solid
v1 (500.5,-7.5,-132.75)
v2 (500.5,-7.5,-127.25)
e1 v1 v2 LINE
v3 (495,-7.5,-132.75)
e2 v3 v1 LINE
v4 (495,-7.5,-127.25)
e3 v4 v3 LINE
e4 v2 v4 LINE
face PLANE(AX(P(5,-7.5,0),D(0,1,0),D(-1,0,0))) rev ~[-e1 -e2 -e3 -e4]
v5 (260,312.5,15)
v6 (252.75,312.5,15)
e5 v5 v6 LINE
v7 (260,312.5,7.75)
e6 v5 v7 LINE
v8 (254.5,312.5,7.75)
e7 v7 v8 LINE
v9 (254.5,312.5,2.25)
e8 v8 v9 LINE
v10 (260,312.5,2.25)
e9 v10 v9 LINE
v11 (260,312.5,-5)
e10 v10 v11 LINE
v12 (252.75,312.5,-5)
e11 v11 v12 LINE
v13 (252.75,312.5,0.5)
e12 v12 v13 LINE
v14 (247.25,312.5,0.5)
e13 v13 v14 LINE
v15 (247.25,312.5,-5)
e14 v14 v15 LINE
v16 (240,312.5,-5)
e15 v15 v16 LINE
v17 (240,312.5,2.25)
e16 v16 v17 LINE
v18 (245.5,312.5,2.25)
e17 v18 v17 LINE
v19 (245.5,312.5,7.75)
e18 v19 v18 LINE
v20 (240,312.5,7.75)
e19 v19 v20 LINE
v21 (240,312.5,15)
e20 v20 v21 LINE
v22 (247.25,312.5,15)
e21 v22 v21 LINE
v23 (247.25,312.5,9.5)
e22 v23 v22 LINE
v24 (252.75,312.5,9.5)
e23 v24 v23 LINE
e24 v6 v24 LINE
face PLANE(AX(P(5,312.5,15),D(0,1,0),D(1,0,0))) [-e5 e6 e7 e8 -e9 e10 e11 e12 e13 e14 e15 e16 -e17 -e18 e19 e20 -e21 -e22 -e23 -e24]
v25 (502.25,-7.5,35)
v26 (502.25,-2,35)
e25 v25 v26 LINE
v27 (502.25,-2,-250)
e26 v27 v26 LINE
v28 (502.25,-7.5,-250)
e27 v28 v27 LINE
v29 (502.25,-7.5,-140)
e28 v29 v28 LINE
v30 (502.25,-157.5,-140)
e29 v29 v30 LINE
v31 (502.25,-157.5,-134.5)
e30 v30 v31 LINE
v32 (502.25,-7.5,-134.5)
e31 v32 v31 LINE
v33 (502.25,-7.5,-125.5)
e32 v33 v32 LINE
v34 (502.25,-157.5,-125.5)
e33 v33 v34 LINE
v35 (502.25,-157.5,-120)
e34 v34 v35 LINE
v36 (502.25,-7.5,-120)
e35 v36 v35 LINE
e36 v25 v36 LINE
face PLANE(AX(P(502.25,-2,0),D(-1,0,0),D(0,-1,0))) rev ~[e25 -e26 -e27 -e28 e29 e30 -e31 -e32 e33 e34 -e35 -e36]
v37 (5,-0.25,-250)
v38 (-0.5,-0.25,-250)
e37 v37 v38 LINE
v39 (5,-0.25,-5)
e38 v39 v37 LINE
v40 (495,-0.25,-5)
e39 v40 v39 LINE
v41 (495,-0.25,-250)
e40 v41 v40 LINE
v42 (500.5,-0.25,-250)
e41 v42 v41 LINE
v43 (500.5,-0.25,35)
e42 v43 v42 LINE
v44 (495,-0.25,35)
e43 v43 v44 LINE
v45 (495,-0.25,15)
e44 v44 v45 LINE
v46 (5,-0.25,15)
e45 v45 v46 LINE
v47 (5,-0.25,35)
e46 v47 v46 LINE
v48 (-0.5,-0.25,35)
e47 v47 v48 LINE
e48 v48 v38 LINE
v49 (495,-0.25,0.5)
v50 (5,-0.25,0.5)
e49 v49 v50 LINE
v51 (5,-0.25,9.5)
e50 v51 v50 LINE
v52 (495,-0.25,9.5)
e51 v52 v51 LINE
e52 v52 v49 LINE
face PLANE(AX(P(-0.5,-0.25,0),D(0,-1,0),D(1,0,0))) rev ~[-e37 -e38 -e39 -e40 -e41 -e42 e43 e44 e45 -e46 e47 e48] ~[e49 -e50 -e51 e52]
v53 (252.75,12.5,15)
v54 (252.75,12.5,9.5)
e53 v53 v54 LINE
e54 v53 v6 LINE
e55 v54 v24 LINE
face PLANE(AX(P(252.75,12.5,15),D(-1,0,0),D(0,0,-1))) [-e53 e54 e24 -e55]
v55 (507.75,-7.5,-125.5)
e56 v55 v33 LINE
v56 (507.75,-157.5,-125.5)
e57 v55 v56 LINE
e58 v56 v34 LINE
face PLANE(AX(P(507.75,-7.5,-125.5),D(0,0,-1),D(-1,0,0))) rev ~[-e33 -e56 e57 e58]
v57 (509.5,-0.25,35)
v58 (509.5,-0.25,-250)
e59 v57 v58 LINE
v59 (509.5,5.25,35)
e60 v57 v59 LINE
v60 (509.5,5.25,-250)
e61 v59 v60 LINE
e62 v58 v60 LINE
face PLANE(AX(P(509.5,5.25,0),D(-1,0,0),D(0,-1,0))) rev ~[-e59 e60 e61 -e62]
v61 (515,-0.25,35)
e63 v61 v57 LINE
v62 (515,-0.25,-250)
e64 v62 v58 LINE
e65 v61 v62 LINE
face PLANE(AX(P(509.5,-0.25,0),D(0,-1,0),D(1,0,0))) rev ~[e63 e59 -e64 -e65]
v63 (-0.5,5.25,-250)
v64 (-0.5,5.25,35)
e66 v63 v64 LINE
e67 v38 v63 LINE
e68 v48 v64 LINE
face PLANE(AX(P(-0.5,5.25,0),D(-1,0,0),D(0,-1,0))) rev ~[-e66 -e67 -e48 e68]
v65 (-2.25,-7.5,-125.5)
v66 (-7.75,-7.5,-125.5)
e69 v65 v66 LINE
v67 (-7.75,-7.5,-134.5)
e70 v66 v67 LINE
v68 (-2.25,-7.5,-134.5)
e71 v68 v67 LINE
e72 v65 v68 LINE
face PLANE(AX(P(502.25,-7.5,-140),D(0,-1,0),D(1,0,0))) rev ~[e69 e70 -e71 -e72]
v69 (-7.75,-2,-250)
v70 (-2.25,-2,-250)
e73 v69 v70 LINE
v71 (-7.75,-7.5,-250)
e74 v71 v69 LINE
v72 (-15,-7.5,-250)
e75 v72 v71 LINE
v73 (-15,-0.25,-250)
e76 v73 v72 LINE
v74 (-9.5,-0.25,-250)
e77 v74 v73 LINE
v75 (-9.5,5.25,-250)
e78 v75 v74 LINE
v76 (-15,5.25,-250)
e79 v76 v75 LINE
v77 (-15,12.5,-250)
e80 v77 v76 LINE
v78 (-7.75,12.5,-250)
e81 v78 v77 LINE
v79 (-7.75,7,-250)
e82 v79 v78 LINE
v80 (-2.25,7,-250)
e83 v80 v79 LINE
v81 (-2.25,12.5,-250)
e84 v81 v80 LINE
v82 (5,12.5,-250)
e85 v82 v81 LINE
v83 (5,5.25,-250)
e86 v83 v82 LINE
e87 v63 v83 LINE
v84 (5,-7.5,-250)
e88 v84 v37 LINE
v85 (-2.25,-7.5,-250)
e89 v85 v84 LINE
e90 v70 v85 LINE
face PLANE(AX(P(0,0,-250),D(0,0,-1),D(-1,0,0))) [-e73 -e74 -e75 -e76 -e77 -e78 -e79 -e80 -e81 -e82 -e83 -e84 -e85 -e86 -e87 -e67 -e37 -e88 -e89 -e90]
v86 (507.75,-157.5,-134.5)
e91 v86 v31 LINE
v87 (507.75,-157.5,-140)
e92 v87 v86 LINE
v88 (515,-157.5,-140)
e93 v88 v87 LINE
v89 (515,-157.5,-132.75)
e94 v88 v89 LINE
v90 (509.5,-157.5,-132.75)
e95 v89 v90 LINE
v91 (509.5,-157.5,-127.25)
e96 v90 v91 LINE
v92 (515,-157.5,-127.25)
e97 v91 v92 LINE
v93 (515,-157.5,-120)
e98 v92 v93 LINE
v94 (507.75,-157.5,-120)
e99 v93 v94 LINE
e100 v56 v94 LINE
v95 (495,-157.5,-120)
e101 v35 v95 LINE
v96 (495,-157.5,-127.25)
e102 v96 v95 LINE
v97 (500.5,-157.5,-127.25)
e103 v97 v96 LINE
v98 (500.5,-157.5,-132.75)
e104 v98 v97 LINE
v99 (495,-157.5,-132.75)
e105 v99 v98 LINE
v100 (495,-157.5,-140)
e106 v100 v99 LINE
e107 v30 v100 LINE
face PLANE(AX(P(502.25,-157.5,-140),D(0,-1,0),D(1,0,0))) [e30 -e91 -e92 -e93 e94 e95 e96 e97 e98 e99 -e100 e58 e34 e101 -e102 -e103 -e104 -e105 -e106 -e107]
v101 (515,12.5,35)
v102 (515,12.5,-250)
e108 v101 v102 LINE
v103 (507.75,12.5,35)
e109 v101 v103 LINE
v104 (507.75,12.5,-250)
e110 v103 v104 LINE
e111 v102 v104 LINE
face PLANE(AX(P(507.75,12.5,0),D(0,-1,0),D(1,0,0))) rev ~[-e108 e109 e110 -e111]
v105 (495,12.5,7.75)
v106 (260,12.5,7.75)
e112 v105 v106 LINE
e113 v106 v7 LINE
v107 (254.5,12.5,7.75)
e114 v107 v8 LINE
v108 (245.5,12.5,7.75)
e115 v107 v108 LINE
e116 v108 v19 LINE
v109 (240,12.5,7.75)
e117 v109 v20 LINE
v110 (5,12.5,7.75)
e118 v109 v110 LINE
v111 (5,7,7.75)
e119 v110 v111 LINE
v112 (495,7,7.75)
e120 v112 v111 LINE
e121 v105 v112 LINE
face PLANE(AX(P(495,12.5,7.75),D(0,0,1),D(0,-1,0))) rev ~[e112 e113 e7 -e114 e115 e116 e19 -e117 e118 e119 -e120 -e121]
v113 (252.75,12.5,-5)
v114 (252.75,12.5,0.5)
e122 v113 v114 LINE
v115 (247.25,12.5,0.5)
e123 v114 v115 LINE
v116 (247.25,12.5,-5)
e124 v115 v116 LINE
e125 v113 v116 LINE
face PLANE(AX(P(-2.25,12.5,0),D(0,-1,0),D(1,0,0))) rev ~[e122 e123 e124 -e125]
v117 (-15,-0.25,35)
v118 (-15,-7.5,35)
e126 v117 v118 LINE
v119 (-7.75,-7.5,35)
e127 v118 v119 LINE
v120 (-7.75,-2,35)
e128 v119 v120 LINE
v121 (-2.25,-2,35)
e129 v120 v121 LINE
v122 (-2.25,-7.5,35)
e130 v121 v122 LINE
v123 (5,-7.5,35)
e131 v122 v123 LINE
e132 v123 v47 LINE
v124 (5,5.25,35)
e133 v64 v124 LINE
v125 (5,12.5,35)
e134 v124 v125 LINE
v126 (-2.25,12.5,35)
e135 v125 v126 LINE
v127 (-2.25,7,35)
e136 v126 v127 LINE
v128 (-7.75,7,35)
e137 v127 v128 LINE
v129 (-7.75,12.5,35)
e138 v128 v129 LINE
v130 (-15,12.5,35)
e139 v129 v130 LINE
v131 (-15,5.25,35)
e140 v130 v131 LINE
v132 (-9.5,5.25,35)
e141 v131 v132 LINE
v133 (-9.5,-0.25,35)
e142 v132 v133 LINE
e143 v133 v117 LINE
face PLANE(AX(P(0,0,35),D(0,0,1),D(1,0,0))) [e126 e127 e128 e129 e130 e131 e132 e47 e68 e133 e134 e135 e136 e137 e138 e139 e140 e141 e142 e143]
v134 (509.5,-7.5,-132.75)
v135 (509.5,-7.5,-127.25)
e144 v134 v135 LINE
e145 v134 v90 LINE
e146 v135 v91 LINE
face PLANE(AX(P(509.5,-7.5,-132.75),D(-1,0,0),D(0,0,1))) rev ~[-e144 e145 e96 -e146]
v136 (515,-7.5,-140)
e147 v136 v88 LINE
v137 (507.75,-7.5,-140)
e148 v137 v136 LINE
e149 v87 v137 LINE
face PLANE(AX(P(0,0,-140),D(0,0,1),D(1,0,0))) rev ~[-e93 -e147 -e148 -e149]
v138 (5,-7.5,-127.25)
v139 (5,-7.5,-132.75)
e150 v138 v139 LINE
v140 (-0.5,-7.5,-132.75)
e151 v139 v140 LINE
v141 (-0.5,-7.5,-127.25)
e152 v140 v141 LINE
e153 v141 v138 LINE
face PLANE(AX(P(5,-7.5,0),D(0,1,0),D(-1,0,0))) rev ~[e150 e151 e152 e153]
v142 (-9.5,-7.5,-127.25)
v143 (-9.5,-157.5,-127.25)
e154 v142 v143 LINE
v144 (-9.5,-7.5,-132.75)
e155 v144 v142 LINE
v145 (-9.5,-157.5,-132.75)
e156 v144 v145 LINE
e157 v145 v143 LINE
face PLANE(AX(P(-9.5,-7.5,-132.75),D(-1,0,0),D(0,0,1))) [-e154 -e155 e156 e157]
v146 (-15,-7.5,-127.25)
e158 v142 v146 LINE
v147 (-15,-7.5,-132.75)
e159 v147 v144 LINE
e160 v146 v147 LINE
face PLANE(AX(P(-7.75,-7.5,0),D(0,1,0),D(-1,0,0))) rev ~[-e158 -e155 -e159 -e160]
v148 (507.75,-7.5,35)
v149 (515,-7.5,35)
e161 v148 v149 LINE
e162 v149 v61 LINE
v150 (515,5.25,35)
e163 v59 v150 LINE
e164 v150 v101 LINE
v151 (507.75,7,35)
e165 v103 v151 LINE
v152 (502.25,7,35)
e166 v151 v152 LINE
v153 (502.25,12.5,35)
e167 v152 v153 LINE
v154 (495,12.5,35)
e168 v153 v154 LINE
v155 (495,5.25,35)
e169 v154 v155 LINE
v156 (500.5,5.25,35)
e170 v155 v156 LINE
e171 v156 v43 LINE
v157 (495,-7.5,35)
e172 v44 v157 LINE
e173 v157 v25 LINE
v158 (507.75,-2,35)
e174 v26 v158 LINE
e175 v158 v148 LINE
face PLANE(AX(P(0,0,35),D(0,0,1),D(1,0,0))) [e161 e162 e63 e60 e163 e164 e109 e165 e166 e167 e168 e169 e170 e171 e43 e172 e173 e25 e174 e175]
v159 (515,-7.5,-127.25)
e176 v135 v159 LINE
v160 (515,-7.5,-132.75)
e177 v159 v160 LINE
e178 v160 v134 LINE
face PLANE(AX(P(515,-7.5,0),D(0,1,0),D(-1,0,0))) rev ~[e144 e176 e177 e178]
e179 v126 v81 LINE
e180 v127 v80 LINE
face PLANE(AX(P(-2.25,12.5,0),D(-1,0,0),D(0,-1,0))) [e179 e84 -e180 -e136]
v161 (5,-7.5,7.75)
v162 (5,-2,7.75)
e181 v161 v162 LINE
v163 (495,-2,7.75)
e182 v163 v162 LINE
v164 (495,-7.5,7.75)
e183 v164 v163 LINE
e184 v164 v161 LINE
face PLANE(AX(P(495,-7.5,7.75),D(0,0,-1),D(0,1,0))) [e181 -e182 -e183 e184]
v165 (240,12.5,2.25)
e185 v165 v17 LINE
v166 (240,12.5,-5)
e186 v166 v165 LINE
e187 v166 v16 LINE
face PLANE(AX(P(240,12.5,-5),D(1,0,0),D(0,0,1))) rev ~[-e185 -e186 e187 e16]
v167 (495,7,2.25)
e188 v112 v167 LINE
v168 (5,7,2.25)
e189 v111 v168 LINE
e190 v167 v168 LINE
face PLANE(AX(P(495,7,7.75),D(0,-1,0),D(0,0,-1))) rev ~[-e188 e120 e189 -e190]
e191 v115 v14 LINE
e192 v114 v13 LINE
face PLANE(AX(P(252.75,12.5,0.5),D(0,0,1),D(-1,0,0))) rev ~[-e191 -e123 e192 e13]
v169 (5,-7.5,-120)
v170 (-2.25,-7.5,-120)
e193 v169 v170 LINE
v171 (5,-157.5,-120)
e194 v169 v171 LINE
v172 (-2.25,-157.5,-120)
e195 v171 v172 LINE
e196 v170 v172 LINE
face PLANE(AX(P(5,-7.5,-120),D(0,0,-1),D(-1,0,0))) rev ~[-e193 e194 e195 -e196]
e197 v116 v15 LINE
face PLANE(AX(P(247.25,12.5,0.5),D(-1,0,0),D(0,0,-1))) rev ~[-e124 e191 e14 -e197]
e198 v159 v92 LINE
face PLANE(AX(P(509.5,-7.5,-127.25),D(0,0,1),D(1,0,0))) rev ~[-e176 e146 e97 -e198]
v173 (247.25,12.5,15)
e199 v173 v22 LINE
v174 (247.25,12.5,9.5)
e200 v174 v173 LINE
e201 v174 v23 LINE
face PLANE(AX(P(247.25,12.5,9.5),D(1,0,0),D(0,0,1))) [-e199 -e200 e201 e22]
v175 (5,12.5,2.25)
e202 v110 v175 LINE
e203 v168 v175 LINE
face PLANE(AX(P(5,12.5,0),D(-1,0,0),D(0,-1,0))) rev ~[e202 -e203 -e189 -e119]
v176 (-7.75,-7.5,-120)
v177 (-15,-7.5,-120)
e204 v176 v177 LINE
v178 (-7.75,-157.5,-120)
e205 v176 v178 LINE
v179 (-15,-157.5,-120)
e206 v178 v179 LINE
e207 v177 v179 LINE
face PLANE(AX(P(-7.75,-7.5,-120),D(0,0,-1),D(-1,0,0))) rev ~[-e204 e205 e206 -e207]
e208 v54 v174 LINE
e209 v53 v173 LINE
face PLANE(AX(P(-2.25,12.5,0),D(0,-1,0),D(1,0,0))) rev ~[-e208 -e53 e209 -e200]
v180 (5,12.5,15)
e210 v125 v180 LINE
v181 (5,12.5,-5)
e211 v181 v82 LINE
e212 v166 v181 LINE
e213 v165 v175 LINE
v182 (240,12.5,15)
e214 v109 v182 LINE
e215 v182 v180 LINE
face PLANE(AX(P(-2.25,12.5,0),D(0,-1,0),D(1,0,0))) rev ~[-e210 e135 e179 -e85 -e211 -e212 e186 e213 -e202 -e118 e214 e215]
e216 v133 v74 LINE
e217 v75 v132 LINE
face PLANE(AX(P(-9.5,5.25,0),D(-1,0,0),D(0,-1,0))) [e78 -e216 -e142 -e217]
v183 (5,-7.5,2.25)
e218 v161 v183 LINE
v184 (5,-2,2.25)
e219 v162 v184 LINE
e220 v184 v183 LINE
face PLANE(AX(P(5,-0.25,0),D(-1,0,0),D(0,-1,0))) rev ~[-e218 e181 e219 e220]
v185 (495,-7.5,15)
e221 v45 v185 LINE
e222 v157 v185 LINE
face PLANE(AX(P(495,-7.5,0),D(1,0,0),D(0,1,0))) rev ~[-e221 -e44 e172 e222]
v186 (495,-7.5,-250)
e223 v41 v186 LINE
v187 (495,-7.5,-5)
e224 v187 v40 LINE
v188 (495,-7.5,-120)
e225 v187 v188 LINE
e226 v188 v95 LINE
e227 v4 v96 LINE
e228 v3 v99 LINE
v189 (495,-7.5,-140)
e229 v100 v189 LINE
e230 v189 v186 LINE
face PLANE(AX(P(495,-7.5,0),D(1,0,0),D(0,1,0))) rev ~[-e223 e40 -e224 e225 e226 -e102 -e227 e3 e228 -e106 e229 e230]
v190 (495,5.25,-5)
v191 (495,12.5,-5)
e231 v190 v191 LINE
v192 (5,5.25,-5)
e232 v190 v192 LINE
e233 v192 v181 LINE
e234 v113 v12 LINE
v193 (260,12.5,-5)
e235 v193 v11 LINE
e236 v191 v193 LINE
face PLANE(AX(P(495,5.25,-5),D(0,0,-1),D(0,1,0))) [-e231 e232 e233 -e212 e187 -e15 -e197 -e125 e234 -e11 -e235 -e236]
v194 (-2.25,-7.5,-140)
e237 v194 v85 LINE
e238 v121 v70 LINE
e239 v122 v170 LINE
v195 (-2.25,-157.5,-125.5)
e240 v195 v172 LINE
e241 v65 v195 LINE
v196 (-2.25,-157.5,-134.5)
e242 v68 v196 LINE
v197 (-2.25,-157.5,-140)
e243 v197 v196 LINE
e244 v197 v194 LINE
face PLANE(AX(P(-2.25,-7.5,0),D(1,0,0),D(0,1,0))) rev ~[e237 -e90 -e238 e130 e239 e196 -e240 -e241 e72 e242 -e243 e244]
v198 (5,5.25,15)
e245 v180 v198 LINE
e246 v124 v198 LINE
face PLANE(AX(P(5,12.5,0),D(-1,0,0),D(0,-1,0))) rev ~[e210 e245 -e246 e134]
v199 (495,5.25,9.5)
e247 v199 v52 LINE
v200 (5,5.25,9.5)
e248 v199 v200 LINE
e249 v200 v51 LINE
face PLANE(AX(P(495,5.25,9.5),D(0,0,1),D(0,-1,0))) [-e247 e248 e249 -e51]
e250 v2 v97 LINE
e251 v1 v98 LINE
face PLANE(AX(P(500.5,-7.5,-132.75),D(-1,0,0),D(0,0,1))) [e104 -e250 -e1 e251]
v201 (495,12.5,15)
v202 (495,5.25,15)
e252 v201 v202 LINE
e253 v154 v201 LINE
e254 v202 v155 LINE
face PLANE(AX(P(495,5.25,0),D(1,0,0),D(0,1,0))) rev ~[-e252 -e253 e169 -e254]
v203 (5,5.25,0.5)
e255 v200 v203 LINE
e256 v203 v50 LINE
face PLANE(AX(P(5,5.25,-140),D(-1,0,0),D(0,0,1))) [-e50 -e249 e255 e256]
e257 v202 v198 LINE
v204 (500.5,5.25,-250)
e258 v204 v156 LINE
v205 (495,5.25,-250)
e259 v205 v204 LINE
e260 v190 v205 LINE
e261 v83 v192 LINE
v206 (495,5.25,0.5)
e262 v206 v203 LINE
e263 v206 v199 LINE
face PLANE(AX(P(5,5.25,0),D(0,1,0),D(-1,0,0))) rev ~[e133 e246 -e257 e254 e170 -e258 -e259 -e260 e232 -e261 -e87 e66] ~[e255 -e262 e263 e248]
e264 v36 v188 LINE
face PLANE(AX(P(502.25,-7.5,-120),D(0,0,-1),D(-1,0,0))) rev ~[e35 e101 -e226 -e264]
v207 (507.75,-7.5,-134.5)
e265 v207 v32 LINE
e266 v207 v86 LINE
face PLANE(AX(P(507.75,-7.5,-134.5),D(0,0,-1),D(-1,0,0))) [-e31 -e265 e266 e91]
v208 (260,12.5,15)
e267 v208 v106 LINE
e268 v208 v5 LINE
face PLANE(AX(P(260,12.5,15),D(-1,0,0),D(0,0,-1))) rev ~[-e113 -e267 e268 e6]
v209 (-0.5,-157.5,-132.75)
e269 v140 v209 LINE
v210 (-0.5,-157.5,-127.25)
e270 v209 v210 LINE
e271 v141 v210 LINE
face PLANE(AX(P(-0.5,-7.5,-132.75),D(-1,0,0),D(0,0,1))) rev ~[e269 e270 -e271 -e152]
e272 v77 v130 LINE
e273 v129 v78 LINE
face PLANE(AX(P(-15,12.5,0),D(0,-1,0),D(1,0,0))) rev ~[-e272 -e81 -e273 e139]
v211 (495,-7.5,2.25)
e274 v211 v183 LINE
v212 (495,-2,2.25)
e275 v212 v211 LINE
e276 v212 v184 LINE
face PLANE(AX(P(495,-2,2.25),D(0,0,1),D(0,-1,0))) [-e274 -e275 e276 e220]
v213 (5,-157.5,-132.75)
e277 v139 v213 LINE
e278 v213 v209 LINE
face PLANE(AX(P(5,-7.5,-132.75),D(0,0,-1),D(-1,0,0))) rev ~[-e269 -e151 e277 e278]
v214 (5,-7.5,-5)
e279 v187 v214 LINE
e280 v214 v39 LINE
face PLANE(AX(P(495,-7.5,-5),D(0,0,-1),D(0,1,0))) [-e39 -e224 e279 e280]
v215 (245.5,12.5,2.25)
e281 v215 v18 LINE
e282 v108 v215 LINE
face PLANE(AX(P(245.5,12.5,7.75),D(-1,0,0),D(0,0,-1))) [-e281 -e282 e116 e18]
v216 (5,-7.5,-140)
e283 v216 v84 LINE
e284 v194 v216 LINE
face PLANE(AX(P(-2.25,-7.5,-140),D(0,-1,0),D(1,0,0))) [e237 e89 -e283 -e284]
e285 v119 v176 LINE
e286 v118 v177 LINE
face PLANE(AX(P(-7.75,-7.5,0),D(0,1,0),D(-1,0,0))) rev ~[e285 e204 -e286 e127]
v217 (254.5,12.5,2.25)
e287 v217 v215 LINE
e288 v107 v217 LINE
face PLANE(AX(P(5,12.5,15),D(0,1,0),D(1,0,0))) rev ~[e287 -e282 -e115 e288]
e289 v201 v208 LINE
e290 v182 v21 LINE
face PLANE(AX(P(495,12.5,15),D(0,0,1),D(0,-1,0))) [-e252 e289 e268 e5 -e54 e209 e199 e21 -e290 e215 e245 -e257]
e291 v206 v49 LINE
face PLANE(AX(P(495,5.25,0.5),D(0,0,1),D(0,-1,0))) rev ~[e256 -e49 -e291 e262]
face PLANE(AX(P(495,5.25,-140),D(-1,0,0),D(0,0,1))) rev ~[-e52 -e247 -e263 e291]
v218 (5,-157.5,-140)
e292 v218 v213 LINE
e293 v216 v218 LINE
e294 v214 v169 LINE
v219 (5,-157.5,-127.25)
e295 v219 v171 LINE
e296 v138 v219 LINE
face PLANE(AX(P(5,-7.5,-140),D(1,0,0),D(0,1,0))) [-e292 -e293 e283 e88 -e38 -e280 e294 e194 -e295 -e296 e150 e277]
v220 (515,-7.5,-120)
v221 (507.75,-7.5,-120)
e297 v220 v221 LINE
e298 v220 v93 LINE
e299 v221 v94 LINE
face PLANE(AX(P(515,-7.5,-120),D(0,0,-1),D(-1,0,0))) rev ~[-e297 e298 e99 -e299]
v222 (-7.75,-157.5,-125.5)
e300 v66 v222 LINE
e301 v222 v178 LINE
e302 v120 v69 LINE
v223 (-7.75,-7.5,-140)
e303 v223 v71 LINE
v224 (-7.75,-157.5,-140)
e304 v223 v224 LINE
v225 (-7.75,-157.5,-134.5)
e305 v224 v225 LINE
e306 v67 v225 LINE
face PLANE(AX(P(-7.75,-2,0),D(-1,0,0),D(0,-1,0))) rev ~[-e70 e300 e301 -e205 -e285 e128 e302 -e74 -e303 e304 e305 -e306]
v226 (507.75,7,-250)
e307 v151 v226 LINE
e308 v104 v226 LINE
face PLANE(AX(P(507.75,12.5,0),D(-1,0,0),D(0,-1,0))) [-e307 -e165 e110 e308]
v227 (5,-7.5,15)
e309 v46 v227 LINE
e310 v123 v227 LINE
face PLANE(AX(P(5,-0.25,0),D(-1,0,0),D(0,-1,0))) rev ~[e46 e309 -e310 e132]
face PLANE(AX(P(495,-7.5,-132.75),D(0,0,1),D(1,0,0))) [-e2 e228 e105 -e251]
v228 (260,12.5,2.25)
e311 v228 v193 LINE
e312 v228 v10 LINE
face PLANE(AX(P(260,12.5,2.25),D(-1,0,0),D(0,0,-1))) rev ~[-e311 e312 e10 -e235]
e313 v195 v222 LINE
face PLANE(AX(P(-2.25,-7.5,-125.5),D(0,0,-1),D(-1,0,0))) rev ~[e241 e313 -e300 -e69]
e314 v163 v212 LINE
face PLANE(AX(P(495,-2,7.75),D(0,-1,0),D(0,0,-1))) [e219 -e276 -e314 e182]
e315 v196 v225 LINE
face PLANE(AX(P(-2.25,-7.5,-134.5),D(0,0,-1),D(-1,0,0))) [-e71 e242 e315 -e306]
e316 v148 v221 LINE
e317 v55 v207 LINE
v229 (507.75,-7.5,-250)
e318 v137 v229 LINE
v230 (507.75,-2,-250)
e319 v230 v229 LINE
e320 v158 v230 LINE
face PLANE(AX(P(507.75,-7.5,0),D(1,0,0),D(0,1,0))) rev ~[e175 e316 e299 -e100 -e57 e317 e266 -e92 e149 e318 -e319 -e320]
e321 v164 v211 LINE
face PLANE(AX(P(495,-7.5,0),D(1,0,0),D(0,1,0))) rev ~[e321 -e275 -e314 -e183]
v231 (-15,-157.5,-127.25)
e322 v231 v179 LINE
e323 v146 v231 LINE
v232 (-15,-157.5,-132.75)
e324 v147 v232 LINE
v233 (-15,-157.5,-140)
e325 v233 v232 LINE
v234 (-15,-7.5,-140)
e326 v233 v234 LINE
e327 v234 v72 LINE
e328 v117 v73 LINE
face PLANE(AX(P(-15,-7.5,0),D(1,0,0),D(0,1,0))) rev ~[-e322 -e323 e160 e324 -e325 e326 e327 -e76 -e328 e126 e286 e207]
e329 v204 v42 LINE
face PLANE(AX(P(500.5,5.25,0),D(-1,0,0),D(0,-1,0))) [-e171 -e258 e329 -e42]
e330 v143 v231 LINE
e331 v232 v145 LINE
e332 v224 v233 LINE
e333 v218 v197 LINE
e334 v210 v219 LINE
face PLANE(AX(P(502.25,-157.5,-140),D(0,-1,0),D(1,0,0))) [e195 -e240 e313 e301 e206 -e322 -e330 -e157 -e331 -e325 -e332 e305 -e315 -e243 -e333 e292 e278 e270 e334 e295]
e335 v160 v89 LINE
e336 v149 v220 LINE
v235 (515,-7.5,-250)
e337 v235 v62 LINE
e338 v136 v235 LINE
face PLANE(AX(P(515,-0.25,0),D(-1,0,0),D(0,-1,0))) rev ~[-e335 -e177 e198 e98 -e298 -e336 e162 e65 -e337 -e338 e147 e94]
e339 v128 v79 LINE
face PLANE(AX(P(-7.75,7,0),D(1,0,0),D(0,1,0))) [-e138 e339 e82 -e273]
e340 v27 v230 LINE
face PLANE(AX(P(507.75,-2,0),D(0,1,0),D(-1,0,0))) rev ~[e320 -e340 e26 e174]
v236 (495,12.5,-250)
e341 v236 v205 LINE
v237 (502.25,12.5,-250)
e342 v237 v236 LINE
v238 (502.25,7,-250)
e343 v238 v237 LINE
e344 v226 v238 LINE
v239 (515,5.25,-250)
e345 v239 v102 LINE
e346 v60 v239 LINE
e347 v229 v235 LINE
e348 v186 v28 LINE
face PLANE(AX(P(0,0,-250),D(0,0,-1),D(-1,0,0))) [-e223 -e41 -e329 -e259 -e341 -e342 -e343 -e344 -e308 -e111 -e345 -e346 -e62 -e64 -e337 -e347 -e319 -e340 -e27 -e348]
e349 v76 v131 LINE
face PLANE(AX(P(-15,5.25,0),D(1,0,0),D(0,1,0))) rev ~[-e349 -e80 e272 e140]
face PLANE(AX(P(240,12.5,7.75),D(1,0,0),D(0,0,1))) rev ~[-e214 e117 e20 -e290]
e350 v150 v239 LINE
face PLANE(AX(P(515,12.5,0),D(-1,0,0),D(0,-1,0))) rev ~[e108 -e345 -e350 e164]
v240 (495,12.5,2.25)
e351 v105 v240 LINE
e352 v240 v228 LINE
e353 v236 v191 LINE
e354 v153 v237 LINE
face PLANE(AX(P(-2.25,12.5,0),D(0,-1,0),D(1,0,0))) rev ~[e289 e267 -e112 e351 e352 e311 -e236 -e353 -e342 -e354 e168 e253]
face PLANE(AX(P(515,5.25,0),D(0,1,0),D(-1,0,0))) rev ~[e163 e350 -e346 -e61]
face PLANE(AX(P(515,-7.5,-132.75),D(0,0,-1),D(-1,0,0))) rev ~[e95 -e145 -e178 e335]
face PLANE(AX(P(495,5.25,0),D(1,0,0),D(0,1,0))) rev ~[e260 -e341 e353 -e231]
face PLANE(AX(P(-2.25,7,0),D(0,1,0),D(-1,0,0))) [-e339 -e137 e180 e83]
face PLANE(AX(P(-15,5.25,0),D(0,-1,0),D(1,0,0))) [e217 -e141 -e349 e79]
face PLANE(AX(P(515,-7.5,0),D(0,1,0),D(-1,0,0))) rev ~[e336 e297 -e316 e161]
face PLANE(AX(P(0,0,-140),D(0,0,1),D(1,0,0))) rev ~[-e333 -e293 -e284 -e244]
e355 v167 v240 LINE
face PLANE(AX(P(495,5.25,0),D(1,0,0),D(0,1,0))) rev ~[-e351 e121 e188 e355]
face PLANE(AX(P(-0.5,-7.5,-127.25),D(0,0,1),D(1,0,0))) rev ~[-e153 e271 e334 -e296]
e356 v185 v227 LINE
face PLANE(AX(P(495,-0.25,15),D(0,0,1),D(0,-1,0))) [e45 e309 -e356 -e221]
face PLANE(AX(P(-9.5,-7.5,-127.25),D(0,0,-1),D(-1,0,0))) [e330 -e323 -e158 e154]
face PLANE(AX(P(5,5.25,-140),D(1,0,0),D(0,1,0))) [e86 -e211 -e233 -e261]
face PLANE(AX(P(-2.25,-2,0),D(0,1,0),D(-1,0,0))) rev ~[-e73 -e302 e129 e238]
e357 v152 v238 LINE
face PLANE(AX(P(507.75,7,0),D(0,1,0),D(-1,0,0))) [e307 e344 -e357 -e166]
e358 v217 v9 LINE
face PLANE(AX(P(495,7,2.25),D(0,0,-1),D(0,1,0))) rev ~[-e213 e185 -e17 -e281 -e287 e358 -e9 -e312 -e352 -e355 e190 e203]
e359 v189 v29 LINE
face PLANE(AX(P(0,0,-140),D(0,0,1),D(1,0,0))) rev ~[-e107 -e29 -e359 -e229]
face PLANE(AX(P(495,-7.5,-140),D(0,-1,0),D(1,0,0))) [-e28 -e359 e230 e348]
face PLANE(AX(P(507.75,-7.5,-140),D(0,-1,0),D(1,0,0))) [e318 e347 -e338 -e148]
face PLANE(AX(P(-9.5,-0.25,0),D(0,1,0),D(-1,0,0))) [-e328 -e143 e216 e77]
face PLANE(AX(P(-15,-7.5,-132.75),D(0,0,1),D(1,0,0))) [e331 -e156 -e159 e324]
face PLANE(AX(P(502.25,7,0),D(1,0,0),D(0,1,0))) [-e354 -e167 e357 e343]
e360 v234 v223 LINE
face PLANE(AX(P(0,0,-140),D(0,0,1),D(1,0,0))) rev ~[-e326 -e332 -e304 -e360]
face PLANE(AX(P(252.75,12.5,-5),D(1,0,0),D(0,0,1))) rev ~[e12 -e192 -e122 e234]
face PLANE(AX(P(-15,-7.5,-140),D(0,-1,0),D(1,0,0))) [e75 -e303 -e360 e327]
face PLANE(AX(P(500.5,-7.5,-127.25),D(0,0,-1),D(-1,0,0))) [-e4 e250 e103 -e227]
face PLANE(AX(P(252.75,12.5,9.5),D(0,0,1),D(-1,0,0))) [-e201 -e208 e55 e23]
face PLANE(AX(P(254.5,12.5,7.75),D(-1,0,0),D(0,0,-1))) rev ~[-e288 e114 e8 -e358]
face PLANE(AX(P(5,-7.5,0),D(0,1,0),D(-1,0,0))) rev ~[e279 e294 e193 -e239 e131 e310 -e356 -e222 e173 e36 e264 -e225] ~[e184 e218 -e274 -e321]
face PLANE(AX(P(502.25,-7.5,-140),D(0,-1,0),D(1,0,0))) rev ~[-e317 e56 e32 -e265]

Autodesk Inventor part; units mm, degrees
ref_plane "YZ Plane" through (0, 0, 0) normal (1, 0, 0) x (0, 1, 0)
ref_plane "XZ Plane" through (0, 0, 0) normal (0, 1, 0) x (-1, 0, 0)
ref_plane "XY Plane" through (0, 0, 0) normal (0, 0, 1) x (1, 0, 0)
sketch "스케치1" plane through (0, 0, 0) normal (0, 0, 1) x (1, 0, 0)
  line L0 (-15, 12.5) -> (5, 12.5)
  line L1 (5, 12.5) -> (5, -7.5)
  line L2 (5, -7.5) -> (-15, -7.5)
  line L3 (-15, -7.5) -> (-15, 12.5)
  line L4 (5, 5.25) -> (-0.5, 5.25)
  line L5 (-0.5, 5.25) -> (-0.5, -0.25)
  line L6 (-0.5, -0.25) -> (5, -0.25)
  line L7 (5, -0.25) -> (5, 5.25)
  line L8 (-7.75, 12.5) -> (-2.25, 12.5)
  line L9 (-2.25, 12.5) -> (-2.25, 7)
  line L10 (-2.25, 7) -> (-7.75, 7)
  line L11 (-7.75, 7) -> (-7.75, 12.5)
  line L12 (-15, 5.25) -> (-9.5, 5.25)
  line L13 (-9.5, 5.25) -> (-9.5, -0.25)
  line L14 (-9.5, -0.25) -> (-15, -0.25)
  line L15 (-15, -0.25) -> (-15, 5.25)
  line L16 (-7.75, -7.5) -> (-2.25, -7.5)
  line L17 (-2.25, -7.5) -> (-2.25, -2)
  line L18 (-2.25, -2) -> (-7.75, -2)
  line L19 (-7.75, -2) -> (-7.75, -7.5)
  line L20 (0, 0) -> (500, 0) projected
  line L21 (500, 0) -> (500, 5) projected
  line L22 (0, 5) -> (500, 5) projected
  line L23 (0, 0) -> (0, 5) projected
  line L24 (495, 12.5) -> (515, 12.5)
  line L25 (515, 12.5) -> (515, -7.5)
  line L26 (515, -7.5) -> (495, -7.5)
  line L27 (495, -7.5) -> (495, 12.5)
  line L28 (515, 5.25) -> (509.5, 5.25)
  line L29 (509.5, 5.25) -> (509.5, -0.25)
  line L30 (509.5, -0.25) -> (515, -0.25)
  line L31 (502.25, 12.5) -> (507.75, 12.5)
  line L32 (507.75, 12.5) -> (507.75, 7)
  line L33 (507.75, 7) -> (502.25, 7)
  line L34 (502.25, 7) -> (502.25, 12.5)
  line L35 (495, 5.25) -> (500.5, 5.25)
  line L36 (500.5, 5.25) -> (500.5, -0.25)
  line L37 (500.5, -0.25) -> (495, -0.25)
  line L38 (507.75, -7.5) -> (507.75, -2)
  line L39 (507.75, -2) -> (502.25, -2)
  line L40 (502.25, -2) -> (502.25, -7.5)
  dimension "d0" = 20
  dimension "d1" = 20
  dimension "d2" = 5.5
  dimension "d3" = 5.5
  dimension "d4" = 5.5
  dimension "d5" = 5.5
  dimension "d6" = 5.5
  dimension "d7" = 5.5
  dimension "d8" = 5.5
  dimension "d9" = 5.5
  dimension "d10" = 7.25
  dimension "d11" = 7.25
  dimension "d12" = 7.25
  dimension "d13" = 7.25
  dimension "d14" = 0.25
  dimension "d15" = 0.5
  dimension "d16" = 20
  dimension "d17" = 20
  dimension "d18" = 5.5
  dimension "d19" = 5.5
  dimension "d20" = 5.5
  dimension "d21" = 5.5
  dimension "d22" = 5.5
  dimension "d23" = 5.5
  dimension "d24" = 5.5
  dimension "d25" = 5.5
  dimension "d26" = 7.25
  dimension "d27" = 7.25
  dimension "d28" = 7.25
  dimension "d29" = 7.25
  dimension "d30" = 0.25
  dimension "d31" = 0.5
extrude "돌출1" add sketch "스케치1" against normal blind 140 contours L0 L11 L10 L9 L1 L4 L5 L6 L2 L17 L18 L19 L3 L14 L13 L12 | L27 L24 L34 L33 L32 L25 L28 L29 L30 L26 L38 L39 L40 L37 L36 L35
sketch "스케치2" plane through (0, 0, 0) normal (0, 0, 1) x (1, 0, 0)
  line L0 (-0.5, 5.25) -> (5, 5.25) projected
  line L1 (5, 5.25) -> (5, 12.5) projected
  line L2 (5, 12.5) -> (-2.25, 12.5) projected
  line L3 (-2.25, 12.5) -> (-2.25, 7) projected
  line L4 (-2.25, 7) -> (-7.75, 7) projected
  line L5 (-7.75, 7) -> (-7.75, 12.5) projected
  line L6 (-7.75, 12.5) -> (-15, 12.5) projected
  line L7 (-15, 12.5) -> (-15, 5.25) projected
  line L8 (-15, 5.25) -> (-9.5, 5.25) projected
  line L9 (-9.5, 5.25) -> (-9.5, -0.25) projected
  line L10 (-9.5, -0.25) -> (-15, -0.25) projected
  line L11 (-15, -0.25) -> (-15, -7.5) projected
  line L12 (-15, -7.5) -> (-7.75, -7.5) projected
  line L13 (-7.75, -7.5) -> (-7.75, -2) projected
  line L14 (-7.75, -2) -> (-2.25, -2) projected
  line L15 (-2.25, -2) -> (-2.25, -7.5) projected
  line L16 (-2.25, -7.5) -> (5, -7.5) projected
  line L17 (5, -7.5) -> (5, -0.25) projected
  line L18 (5, -0.25) -> (-0.5, -0.25) projected
  line L19 (-0.5, -0.25) -> (-0.5, 5.25) projected
  line L20 (502.25, 7) -> (502.25, 12.5) projected
  line L21 (502.25, 12.5) -> (495, 12.5) projected
  line L22 (495, 12.5) -> (495, 5.25) projected
  line L23 (495, 5.25) -> (500.5, 5.25) projected
  line L24 (500.5, 5.25) -> (500.5, -0.25) projected
  line L25 (500.5, -0.25) -> (495, -0.25) projected
  line L26 (495, -0.25) -> (495, -7.5) projected
  line L27 (495, -7.5) -> (502.25, -7.5) projected
  line L28 (502.25, -7.5) -> (502.25, -2) projected
  line L29 (502.25, -2) -> (507.75, -2) projected
  line L30 (507.75, -2) -> (507.75, -7.5) projected
  line L31 (507.75, -7.5) -> (515, -7.5) projected
  line L32 (515, -7.5) -> (515, -0.25) projected
  line L33 (515, -0.25) -> (509.5, -0.25) projected
  line L34 (509.5, -0.25) -> (509.5, 5.25) projected
  line L35 (509.5, 5.25) -> (515, 5.25) projected
  line L36 (515, 5.25) -> (515, 12.5) projected
  line L37 (515, 12.5) -> (507.75, 12.5) projected
  line L38 (507.75, 12.5) -> (507.75, 7) projected
  line L39 (507.75, 7) -> (502.25, 7) projected
  point P0 (0, 0)
extrude "돌출2" add sketch "스케치2" along normal blind 35
sketch "스케치3" plane through (495, 5.25, -140) normal (-1, 0, 0) x (0, 0, 1)
  line L0 (0, -12.75) -> (175, -12.75) projected
  line L1 (0, -5.5) -> (175, -5.5) projected
  line L2 (0, -12.75) -> (0, -5.5) projected
  line L3 (0, -12.75) -> (175, -12.75) projected
  line L4 (175, -5.5) -> (175, -12.75) projected
  line L5 (0, 7.25) -> (175, 7.25) projected
  line L6 (0, 0) -> (0, 7.25) projected
  line L7 (0, 0) -> (175, 0) projected
  line L8 (175, 7.25) -> (175, 0) projected
  line L9 (-360, -5.25) -> (140, -5.25) projected
  line L10 (140, -5.25) -> (140, -0.25) projected
  line L11 (-360, -0.25) -> (140, -0.25) projected
  line L12 (-360, -5.25) -> (-360, -0.25) projected
  line L13 (135, 7.25) -> (155, 7.25)
  line L14 (155, 7.25) -> (155, -12.75)
  line L15 (155, -12.75) -> (135, -12.75)
  line L16 (135, -12.75) -> (135, 7.25)
  line L17 (142.25, 7.25) -> (147.75, 7.25)
  line L18 (147.75, 7.25) -> (147.75, 1.75)
  line L19 (147.75, 1.75) -> (142.25, 1.75)
  line L20 (142.25, 1.75) -> (142.25, 7.25)
  line L21 (155, 0) -> (149.5, 0)
  line L22 (149.5, 0) -> (149.5, -5.5)
  line L23 (149.5, -5.5) -> (155, -5.5)
  line L24 (155, -5.5) -> (155, 0)
  line L25 (135, 0) -> (140.5, 0)
  line L26 (140.5, 0) -> (140.5, -5.5)
  line L27 (140.5, -5.5) -> (135, -5.5)
  line L28 (135, -5.5) -> (135, 0)
  line L29 (142.25, -12.75) -> (147.75, -12.75)
  line L30 (147.75, -12.75) -> (147.75, -7.25)
  line L31 (147.75, -7.25) -> (142.25, -7.25)
  line L32 (142.25, -7.25) -> (142.25, -12.75)
  line L33 (-360, -5.25) -> (140, -5.25) projected
  line L34 (140, -5.25) -> (140, -0.25) projected
  line L35 (-360, -0.25) -> (140, -0.25) projected
  line L36 (-360, -5.25) -> (-360, -0.25) projected
  line L37 (-360, -5.25) -> (140, -5.25) projected
  line L38 (140, -5.25) -> (140, -0.25) projected
  line L39 (-360, -0.25) -> (140, -0.25) projected
  line L40 (-360, -5.25) -> (-360, -0.25) projected
  line L41 (-360, -5.25) -> (140, -5.25) projected
  line L42 (140, -5.25) -> (140, -0.25) projected
  line L43 (-360, -0.25) -> (140, -0.25) projected
  line L44 (-360, -5.25) -> (-360, -0.25) projected
  point P0 (147.75, -12.75)
  point P1 (155, -5.5)
  point P2 (149.5, -5.5)
  point P3 (149.5, 0)
  point P4 (155, 0)
  point P5 (155, 7.25)
  point P6 (135, 0)
  point P7 (140.5, 0)
  point P8 (140.5, -5.5)
  point P9 (135, -12.75)
  dimension "d36" = 20
  dimension "d37" = 20
  dimension "d38" = 5.5
  dimension "d39" = 5.5
  dimension "d40" = 5.5
  dimension "d41" = 5.5
  dimension "d42" = 5.5
  dimension "d43" = 5.5
  dimension "d44" = 5.5
  dimension "d45" = 5.5
  dimension "d46" = 7.25
  dimension "d47" = 7.25
  dimension "d48" = 7.25
  dimension "d49" = 7.25
  dimension "d85" = 0.5
extrude "돌출3" add sketch "스케치3" along normal blind 490 contours L16 L1 L14 L0 L30 L31 L32 | L26 L7 L22 L1 | L7 L16 L5 L20 L19 L18 L14
sketch "스케치4" plane through (502.25, -7.5, -140) normal (0, -1, 0) x (1, 0, 0)
  line L0 (-517.25, 0) -> (-517.25, 175) projected
  line L1 (-510, 0) -> (-517.25, 0) projected
  line L2 (-510, 0) -> (-510, 175) projected
  line L3 (-517.25, 175) -> (-510, 175) projected
  line L4 (-497.25, 142.25) -> (-497.25, 147.75) projected
  line L5 (-7.25, 147.75) -> (-497.25, 147.75) projected
  line L6 (-7.25, 142.25) -> (-7.25, 147.75) projected
  line L7 (-7.25, 142.25) -> (-497.25, 142.25) projected
  line L8 (-7.25, 135) -> (-497.25, 135) projected
  line L9 (-7.25, 0) -> (-7.25, 135) projected
  line L10 (0, 0) -> (-7.25, 0) projected
  line L11 (0, 0) -> (0, 175) projected
  line L12 (-7.25, 175) -> (0, 175) projected
  line L13 (-7.25, 155) -> (-7.25, 175) projected
  line L14 (-7.25, 155) -> (-497.25, 155) projected
  line L15 (-497.25, 155) -> (-497.25, 175) projected
  line L16 (-504.5, 175) -> (-497.25, 175) projected
  line L17 (-504.5, 0) -> (-504.5, 175) projected
  line L18 (-497.25, 0) -> (-504.5, 0) projected
  line L19 (-497.25, 0) -> (-497.25, 135) projected
  line L20 (-510, 0) -> (-510, 175) projected
  line L21 (-504.5, 0) -> (-510, 0) projected
  line L22 (-504.5, 0) -> (-504.5, 175) projected
  line L23 (-510, 175) -> (-504.5, 175) projected
  line L24 (5.5, 0) -> (5.5, 175) projected
  line L25 (5.5, 0) -> (5.5, 175) projected
  line L26 (12.75, 0) -> (5.5, 0) projected
  line L27 (12.75, 0) -> (12.75, 175) projected
  line L28 (5.5, 175) -> (12.75, 175) projected
  line L29 (0, 0) -> (0, 175) projected
  line L30 (5.5, 0) -> (0, 0) projected
  line L31 (5.5, 0) -> (5.5, 175) projected
  line L32 (0, 175) -> (5.5, 175) projected
  line L33 (-517.25, 0) -> (-497.25, 0)
  line L34 (-497.25, 0) -> (-497.25, 20)
  line L35 (-497.25, 20) -> (-517.25, 20)
  line L36 (-517.25, 20) -> (-517.25, 0)
  line L37 (-517.25, 7.25) -> (-511.75, 7.25)
  line L38 (-511.75, 7.25) -> (-511.75, 12.75)
  line L39 (-511.75, 12.75) -> (-517.25, 12.75)
  line L40 (-517.25, 12.75) -> (-517.25, 7.25)
  line L41 (-510, 20) -> (-504.5, 20)
  line L42 (-504.5, 20) -> (-504.5, 14.5)
  line L43 (-504.5, 14.5) -> (-510, 14.5)
  line L44 (-510, 14.5) -> (-510, 20)
  line L45 (-510, 0) -> (-504.5, 0)
  line L46 (-504.5, 0) -> (-504.5, 5.5)
  line L47 (-504.5, 5.5) -> (-510, 5.5)
  line L48 (-510, 5.5) -> (-510, 0)
  line L49 (-497.25, 7.25) -> (-502.75, 7.25)
  line L50 (-502.75, 7.25) -> (-502.75, 12.75)
  line L51 (-502.75, 12.75) -> (-497.25, 12.75)
  line L52 (-497.25, 12.75) -> (-497.25, 7.25)
  line L53 (-7.25, 0) -> (12.75, 0)
  line L54 (12.75, 0) -> (12.75, 20)
  line L55 (12.75, 20) -> (-7.25, 20)
  line L56 (-7.25, 20) -> (-7.25, 0)
  line L57 (-7.25, 7.25) -> (-1.75, 7.25)
  line L58 (-1.75, 7.25) -> (-1.75, 12.75)
  line L59 (-1.75, 12.75) -> (-7.25, 12.75)
  line L60 (-7.25, 12.75) -> (-7.25, 7.25)
  line L61 (0, 20) -> (5.5, 20)
  line L62 (5.5, 20) -> (5.5, 14.5)
  line L63 (5.5, 14.5) -> (0, 14.5)
  line L64 (0, 14.5) -> (0, 20)
  line L65 (0, 0) -> (5.5, 0)
  line L66 (5.5, 0) -> (5.5, 5.5)
  line L67 (5.5, 5.5) -> (0, 5.5)
  line L68 (0, 5.5) -> (0, 0)
  line L69 (12.75, 7.25) -> (7.25, 7.25)
  line L70 (7.25, 7.25) -> (7.25, 12.75)
  line L71 (7.25, 12.75) -> (12.75, 12.75)
  line L72 (12.75, 12.75) -> (12.75, 7.25)
  point P0 (-502.25, 140)
  point P1 (-514.5, 12.75)
  point P2 (-510, 17.25)
  point P3 (-500, 12.75)
  point P4 (-4.5, 12.75)
  point P5 (0, 17.25)
  point P6 (10, 12.75)
  point P7 (12.75, 12.75)
  point P8 (5.5, 14.5)
  point P9 (0, 14.5)
  point P10 (0, 20)
  point P11 (-7.25, 12.75)
  point P12 (-7.25, 7.25)
  point P13 (0, 5.5)
  point P14 (5.5, 5.5)
  point P15 (12.75, 7.25)
  point P16 (-510, 5.5)
  point P17 (-504.5, 5.5)
  point P18 (-497.25, 7.25)
  point P19 (-497.25, 12.75)
  point P20 (-504.5, 14.5)
  point P21 (-510, 14.5)
  point P22 (-510, 20)
  point P23 (-517.25, 12.75)
  point P24 (-517.25, 7.25)
  dimension "d55" = 20
  dimension "d56" = 20
  dimension "d57" = 5.5
  dimension "d58" = 5.5
  dimension "d59" = 5.5
  dimension "d60" = 5.5
  dimension "d61" = 5.5
  dimension "d62" = 5.5
  dimension "d63" = 5.5
  dimension "d64" = 5.5
  dimension "d65" = 7.25
  dimension "d66" = 7.25
  dimension "d67" = 7.25
  dimension "d68" = 20
  dimension "d69" = 20
  dimension "d70" = 5.5
  dimension "d71" = 5.5
  dimension "d72" = 5.5
  dimension "d73" = 5.5
  dimension "d74" = 5.5
  dimension "d75" = 5.5
  dimension "d76" = 5.5
  dimension "d77" = 5.5
  dimension "d78" = 7.25
  dimension "d79" = 7.25
extrude "돌출4" add sketch "스케치4" along normal blind 150 contours L0 L37 L38 L39 L35 L2 L1 | L2 L43 L17 L47 | L17 L35 L19 L51 L50 L49 L18 | L55 L11 L10 L9 L57 L58 L59 | L63 L24 L67 L11 | L55 L27 L71 L70 L69 L26 L24
sketch "스케치5" plane through (0, 0, -140) normal (0, 0, -1) x (-1, 0, 0)
  line L0 (-502.25, 12.5) -> (-495, 12.5) projected
  line L1 (-495, 12.5) -> (-495, 5.25) projected
  line L2 (-495, 5.25) -> (-500.5, 5.25) projected
  line L3 (-500.5, 5.25) -> (-500.5, -0.25) projected
  line L4 (-500.5, -0.25) -> (-495, -0.25) projected
  line L5 (-495, -0.25) -> (-495, -7.5) projected
  line L6 (-495, -7.5) -> (-502.25, -7.5) projected
  line L7 (-502.25, -7.5) -> (-502.25, -2) projected
  line L8 (-502.25, -2) -> (-507.75, -2) projected
  line L9 (-507.75, -2) -> (-507.75, -7.5) projected
  line L10 (-507.75, -7.5) -> (-515, -7.5) projected
  line L11 (-515, -7.5) -> (-515, -0.25) projected
  line L12 (-515, -0.25) -> (-509.5, -0.25) projected
  line L13 (-509.5, -0.25) -> (-509.5, 5.25) projected
  line L14 (-509.5, 5.25) -> (-515, 5.25) projected
  line L15 (-515, 5.25) -> (-515, 12.5) projected
  line L16 (-515, 12.5) -> (-507.75, 12.5) projected
  line L17 (-507.75, 12.5) -> (-507.75, 7) projected
  line L18 (-507.75, 7) -> (-502.25, 7) projected
  line L19 (-502.25, 7) -> (-502.25, 12.5) projected
  line L20 (-5, 5.25) -> (-5, 12.5) projected
  line L21 (-5, 12.5) -> (2.25, 12.5) projected
  line L22 (2.25, 12.5) -> (2.25, 7) projected
  line L23 (2.25, 7) -> (7.75, 7) projected
  line L24 (7.75, 7) -> (7.75, 12.5) projected
  line L25 (7.75, 12.5) -> (15, 12.5) projected
  line L26 (15, 12.5) -> (15, 5.25) projected
  line L27 (15, 5.25) -> (9.5, 5.25) projected
  line L28 (9.5, 5.25) -> (9.5, -0.25) projected
  line L29 (9.5, -0.25) -> (15, -0.25) projected
  line L30 (15, -0.25) -> (15, -7.5) projected
  line L31 (15, -7.5) -> (7.75, -7.5) projected
  line L32 (7.75, -7.5) -> (7.75, -2) projected
  line L33 (7.75, -2) -> (2.25, -2) projected
  line L34 (2.25, -2) -> (2.25, -7.5) projected
  line L35 (2.25, -7.5) -> (-5, -7.5) projected
  line L36 (-5, -7.5) -> (-5, -0.25) projected
  line L37 (-5, -0.25) -> (0.5, -0.25) projected
  line L38 (0.5, -0.25) -> (0.5, 5.25) projected
  line L39 (0.5, 5.25) -> (-5, 5.25) projected
  point P0 (0, 0)
extrude "돌출5" add sketch "스케치5" along normal blind 110
sketch "스케치6" plane through (5, 12.5, 15) normal (0, 1, 0) x (1, 0, 0)
  line L0 (490, 0) -> (0, 0) projected
  line L1 (235, 0) -> (255, 0)
  line L2 (255, 0) -> (255, 20)
  line L3 (255, 20) -> (235, 20)
  line L4 (235, 20) -> (235, 0)
  line L5 (0, 12.75) -> (0, 7.25) projected
  line L6 (490, 12.75) -> (0, 12.75) projected
  line L7 (490, 12.75) -> (490, 7.25) projected
  line L8 (490, 7.25) -> (0, 7.25) projected
  line L9 (490, 0) -> (0, 0) projected
  line L10 (490, 0) -> (490, -20) projected
  line L11 (497.25, -20) -> (490, -20) projected
  line L12 (497.25, 265) -> (497.25, -20) projected
  line L13 (490, 265) -> (497.25, 265) projected
  line L14 (490, 265) -> (490, 20) projected
  line L15 (490, 20) -> (0, 20) projected
  line L16 (0, 265) -> (0, 20) projected
  line L17 (-7.25, 265) -> (0, 265) projected
  line L18 (-7.25, 265) -> (-7.25, -20) projected
  line L19 (0, -20) -> (-7.25, -20) projected
  line L20 (0, 0) -> (0, -20) projected
  line L21 (235, 7.25) -> (240.5, 7.25)
  line L22 (240.5, 7.25) -> (240.5, 12.75)
  line L23 (240.5, 12.75) -> (235, 12.75)
  line L24 (235, 12.75) -> (235, 7.25)
  line L25 (255, 7.25) -> (249.5, 7.25)
  line L26 (249.5, 7.25) -> (249.5, 12.75)
  line L27 (249.5, 12.75) -> (255, 12.75)
  line L28 (255, 12.75) -> (255, 7.25)
  line L29 (242.25, 0) -> (247.75, 0)
  line L30 (247.75, 0) -> (247.75, 5.5)
  line L31 (247.75, 5.5) -> (242.25, 5.5)
  line L32 (242.25, 5.5) -> (242.25, 0)
  line L33 (242.25, 20) -> (247.75, 20)
  line L34 (247.75, 20) -> (247.75, 14.5)
  line L35 (247.75, 14.5) -> (242.25, 14.5)
  line L36 (242.25, 14.5) -> (242.25, 20)
  point P0 (-5, 15)
  point P1 (490, 10)
  point P2 (0, 10)
  point P3 (242.25, 17.25)
  point P4 (247.75, 0)
  point P5 (255, 0)
  point P6 (255, 7.25)
  point P7 (255, 12.75)
  point P8 (235, 12.75)
  point P9 (235, 7.25)
  dimension "d88" = 20
  dimension "d89" = 20
  dimension "d90" = 490
  dimension "d91" = 235
  dimension "d92" = 5.5
  dimension "d93" = 5.5
  dimension "d94" = 5.5
  dimension "d95" = 5.5
  dimension "d96" = 5.5
  dimension "d97" = 5.5
  dimension "d98" = 5.5
  dimension "d99" = 5.5
  dimension "d100" = 7.25
  dimension "d101" = 7.25
  dimension "d102" = 7.25
  dimension "d103" = 7.25
extrude "돌출6" add sketch "스케치6" along normal blind 300 contours L0 L30 L31 L32 L4 L8 L2 | L6 L4 L3 L36 L35 L34 L2 | L8 L22 L6 L26
properties part number "grabber"
